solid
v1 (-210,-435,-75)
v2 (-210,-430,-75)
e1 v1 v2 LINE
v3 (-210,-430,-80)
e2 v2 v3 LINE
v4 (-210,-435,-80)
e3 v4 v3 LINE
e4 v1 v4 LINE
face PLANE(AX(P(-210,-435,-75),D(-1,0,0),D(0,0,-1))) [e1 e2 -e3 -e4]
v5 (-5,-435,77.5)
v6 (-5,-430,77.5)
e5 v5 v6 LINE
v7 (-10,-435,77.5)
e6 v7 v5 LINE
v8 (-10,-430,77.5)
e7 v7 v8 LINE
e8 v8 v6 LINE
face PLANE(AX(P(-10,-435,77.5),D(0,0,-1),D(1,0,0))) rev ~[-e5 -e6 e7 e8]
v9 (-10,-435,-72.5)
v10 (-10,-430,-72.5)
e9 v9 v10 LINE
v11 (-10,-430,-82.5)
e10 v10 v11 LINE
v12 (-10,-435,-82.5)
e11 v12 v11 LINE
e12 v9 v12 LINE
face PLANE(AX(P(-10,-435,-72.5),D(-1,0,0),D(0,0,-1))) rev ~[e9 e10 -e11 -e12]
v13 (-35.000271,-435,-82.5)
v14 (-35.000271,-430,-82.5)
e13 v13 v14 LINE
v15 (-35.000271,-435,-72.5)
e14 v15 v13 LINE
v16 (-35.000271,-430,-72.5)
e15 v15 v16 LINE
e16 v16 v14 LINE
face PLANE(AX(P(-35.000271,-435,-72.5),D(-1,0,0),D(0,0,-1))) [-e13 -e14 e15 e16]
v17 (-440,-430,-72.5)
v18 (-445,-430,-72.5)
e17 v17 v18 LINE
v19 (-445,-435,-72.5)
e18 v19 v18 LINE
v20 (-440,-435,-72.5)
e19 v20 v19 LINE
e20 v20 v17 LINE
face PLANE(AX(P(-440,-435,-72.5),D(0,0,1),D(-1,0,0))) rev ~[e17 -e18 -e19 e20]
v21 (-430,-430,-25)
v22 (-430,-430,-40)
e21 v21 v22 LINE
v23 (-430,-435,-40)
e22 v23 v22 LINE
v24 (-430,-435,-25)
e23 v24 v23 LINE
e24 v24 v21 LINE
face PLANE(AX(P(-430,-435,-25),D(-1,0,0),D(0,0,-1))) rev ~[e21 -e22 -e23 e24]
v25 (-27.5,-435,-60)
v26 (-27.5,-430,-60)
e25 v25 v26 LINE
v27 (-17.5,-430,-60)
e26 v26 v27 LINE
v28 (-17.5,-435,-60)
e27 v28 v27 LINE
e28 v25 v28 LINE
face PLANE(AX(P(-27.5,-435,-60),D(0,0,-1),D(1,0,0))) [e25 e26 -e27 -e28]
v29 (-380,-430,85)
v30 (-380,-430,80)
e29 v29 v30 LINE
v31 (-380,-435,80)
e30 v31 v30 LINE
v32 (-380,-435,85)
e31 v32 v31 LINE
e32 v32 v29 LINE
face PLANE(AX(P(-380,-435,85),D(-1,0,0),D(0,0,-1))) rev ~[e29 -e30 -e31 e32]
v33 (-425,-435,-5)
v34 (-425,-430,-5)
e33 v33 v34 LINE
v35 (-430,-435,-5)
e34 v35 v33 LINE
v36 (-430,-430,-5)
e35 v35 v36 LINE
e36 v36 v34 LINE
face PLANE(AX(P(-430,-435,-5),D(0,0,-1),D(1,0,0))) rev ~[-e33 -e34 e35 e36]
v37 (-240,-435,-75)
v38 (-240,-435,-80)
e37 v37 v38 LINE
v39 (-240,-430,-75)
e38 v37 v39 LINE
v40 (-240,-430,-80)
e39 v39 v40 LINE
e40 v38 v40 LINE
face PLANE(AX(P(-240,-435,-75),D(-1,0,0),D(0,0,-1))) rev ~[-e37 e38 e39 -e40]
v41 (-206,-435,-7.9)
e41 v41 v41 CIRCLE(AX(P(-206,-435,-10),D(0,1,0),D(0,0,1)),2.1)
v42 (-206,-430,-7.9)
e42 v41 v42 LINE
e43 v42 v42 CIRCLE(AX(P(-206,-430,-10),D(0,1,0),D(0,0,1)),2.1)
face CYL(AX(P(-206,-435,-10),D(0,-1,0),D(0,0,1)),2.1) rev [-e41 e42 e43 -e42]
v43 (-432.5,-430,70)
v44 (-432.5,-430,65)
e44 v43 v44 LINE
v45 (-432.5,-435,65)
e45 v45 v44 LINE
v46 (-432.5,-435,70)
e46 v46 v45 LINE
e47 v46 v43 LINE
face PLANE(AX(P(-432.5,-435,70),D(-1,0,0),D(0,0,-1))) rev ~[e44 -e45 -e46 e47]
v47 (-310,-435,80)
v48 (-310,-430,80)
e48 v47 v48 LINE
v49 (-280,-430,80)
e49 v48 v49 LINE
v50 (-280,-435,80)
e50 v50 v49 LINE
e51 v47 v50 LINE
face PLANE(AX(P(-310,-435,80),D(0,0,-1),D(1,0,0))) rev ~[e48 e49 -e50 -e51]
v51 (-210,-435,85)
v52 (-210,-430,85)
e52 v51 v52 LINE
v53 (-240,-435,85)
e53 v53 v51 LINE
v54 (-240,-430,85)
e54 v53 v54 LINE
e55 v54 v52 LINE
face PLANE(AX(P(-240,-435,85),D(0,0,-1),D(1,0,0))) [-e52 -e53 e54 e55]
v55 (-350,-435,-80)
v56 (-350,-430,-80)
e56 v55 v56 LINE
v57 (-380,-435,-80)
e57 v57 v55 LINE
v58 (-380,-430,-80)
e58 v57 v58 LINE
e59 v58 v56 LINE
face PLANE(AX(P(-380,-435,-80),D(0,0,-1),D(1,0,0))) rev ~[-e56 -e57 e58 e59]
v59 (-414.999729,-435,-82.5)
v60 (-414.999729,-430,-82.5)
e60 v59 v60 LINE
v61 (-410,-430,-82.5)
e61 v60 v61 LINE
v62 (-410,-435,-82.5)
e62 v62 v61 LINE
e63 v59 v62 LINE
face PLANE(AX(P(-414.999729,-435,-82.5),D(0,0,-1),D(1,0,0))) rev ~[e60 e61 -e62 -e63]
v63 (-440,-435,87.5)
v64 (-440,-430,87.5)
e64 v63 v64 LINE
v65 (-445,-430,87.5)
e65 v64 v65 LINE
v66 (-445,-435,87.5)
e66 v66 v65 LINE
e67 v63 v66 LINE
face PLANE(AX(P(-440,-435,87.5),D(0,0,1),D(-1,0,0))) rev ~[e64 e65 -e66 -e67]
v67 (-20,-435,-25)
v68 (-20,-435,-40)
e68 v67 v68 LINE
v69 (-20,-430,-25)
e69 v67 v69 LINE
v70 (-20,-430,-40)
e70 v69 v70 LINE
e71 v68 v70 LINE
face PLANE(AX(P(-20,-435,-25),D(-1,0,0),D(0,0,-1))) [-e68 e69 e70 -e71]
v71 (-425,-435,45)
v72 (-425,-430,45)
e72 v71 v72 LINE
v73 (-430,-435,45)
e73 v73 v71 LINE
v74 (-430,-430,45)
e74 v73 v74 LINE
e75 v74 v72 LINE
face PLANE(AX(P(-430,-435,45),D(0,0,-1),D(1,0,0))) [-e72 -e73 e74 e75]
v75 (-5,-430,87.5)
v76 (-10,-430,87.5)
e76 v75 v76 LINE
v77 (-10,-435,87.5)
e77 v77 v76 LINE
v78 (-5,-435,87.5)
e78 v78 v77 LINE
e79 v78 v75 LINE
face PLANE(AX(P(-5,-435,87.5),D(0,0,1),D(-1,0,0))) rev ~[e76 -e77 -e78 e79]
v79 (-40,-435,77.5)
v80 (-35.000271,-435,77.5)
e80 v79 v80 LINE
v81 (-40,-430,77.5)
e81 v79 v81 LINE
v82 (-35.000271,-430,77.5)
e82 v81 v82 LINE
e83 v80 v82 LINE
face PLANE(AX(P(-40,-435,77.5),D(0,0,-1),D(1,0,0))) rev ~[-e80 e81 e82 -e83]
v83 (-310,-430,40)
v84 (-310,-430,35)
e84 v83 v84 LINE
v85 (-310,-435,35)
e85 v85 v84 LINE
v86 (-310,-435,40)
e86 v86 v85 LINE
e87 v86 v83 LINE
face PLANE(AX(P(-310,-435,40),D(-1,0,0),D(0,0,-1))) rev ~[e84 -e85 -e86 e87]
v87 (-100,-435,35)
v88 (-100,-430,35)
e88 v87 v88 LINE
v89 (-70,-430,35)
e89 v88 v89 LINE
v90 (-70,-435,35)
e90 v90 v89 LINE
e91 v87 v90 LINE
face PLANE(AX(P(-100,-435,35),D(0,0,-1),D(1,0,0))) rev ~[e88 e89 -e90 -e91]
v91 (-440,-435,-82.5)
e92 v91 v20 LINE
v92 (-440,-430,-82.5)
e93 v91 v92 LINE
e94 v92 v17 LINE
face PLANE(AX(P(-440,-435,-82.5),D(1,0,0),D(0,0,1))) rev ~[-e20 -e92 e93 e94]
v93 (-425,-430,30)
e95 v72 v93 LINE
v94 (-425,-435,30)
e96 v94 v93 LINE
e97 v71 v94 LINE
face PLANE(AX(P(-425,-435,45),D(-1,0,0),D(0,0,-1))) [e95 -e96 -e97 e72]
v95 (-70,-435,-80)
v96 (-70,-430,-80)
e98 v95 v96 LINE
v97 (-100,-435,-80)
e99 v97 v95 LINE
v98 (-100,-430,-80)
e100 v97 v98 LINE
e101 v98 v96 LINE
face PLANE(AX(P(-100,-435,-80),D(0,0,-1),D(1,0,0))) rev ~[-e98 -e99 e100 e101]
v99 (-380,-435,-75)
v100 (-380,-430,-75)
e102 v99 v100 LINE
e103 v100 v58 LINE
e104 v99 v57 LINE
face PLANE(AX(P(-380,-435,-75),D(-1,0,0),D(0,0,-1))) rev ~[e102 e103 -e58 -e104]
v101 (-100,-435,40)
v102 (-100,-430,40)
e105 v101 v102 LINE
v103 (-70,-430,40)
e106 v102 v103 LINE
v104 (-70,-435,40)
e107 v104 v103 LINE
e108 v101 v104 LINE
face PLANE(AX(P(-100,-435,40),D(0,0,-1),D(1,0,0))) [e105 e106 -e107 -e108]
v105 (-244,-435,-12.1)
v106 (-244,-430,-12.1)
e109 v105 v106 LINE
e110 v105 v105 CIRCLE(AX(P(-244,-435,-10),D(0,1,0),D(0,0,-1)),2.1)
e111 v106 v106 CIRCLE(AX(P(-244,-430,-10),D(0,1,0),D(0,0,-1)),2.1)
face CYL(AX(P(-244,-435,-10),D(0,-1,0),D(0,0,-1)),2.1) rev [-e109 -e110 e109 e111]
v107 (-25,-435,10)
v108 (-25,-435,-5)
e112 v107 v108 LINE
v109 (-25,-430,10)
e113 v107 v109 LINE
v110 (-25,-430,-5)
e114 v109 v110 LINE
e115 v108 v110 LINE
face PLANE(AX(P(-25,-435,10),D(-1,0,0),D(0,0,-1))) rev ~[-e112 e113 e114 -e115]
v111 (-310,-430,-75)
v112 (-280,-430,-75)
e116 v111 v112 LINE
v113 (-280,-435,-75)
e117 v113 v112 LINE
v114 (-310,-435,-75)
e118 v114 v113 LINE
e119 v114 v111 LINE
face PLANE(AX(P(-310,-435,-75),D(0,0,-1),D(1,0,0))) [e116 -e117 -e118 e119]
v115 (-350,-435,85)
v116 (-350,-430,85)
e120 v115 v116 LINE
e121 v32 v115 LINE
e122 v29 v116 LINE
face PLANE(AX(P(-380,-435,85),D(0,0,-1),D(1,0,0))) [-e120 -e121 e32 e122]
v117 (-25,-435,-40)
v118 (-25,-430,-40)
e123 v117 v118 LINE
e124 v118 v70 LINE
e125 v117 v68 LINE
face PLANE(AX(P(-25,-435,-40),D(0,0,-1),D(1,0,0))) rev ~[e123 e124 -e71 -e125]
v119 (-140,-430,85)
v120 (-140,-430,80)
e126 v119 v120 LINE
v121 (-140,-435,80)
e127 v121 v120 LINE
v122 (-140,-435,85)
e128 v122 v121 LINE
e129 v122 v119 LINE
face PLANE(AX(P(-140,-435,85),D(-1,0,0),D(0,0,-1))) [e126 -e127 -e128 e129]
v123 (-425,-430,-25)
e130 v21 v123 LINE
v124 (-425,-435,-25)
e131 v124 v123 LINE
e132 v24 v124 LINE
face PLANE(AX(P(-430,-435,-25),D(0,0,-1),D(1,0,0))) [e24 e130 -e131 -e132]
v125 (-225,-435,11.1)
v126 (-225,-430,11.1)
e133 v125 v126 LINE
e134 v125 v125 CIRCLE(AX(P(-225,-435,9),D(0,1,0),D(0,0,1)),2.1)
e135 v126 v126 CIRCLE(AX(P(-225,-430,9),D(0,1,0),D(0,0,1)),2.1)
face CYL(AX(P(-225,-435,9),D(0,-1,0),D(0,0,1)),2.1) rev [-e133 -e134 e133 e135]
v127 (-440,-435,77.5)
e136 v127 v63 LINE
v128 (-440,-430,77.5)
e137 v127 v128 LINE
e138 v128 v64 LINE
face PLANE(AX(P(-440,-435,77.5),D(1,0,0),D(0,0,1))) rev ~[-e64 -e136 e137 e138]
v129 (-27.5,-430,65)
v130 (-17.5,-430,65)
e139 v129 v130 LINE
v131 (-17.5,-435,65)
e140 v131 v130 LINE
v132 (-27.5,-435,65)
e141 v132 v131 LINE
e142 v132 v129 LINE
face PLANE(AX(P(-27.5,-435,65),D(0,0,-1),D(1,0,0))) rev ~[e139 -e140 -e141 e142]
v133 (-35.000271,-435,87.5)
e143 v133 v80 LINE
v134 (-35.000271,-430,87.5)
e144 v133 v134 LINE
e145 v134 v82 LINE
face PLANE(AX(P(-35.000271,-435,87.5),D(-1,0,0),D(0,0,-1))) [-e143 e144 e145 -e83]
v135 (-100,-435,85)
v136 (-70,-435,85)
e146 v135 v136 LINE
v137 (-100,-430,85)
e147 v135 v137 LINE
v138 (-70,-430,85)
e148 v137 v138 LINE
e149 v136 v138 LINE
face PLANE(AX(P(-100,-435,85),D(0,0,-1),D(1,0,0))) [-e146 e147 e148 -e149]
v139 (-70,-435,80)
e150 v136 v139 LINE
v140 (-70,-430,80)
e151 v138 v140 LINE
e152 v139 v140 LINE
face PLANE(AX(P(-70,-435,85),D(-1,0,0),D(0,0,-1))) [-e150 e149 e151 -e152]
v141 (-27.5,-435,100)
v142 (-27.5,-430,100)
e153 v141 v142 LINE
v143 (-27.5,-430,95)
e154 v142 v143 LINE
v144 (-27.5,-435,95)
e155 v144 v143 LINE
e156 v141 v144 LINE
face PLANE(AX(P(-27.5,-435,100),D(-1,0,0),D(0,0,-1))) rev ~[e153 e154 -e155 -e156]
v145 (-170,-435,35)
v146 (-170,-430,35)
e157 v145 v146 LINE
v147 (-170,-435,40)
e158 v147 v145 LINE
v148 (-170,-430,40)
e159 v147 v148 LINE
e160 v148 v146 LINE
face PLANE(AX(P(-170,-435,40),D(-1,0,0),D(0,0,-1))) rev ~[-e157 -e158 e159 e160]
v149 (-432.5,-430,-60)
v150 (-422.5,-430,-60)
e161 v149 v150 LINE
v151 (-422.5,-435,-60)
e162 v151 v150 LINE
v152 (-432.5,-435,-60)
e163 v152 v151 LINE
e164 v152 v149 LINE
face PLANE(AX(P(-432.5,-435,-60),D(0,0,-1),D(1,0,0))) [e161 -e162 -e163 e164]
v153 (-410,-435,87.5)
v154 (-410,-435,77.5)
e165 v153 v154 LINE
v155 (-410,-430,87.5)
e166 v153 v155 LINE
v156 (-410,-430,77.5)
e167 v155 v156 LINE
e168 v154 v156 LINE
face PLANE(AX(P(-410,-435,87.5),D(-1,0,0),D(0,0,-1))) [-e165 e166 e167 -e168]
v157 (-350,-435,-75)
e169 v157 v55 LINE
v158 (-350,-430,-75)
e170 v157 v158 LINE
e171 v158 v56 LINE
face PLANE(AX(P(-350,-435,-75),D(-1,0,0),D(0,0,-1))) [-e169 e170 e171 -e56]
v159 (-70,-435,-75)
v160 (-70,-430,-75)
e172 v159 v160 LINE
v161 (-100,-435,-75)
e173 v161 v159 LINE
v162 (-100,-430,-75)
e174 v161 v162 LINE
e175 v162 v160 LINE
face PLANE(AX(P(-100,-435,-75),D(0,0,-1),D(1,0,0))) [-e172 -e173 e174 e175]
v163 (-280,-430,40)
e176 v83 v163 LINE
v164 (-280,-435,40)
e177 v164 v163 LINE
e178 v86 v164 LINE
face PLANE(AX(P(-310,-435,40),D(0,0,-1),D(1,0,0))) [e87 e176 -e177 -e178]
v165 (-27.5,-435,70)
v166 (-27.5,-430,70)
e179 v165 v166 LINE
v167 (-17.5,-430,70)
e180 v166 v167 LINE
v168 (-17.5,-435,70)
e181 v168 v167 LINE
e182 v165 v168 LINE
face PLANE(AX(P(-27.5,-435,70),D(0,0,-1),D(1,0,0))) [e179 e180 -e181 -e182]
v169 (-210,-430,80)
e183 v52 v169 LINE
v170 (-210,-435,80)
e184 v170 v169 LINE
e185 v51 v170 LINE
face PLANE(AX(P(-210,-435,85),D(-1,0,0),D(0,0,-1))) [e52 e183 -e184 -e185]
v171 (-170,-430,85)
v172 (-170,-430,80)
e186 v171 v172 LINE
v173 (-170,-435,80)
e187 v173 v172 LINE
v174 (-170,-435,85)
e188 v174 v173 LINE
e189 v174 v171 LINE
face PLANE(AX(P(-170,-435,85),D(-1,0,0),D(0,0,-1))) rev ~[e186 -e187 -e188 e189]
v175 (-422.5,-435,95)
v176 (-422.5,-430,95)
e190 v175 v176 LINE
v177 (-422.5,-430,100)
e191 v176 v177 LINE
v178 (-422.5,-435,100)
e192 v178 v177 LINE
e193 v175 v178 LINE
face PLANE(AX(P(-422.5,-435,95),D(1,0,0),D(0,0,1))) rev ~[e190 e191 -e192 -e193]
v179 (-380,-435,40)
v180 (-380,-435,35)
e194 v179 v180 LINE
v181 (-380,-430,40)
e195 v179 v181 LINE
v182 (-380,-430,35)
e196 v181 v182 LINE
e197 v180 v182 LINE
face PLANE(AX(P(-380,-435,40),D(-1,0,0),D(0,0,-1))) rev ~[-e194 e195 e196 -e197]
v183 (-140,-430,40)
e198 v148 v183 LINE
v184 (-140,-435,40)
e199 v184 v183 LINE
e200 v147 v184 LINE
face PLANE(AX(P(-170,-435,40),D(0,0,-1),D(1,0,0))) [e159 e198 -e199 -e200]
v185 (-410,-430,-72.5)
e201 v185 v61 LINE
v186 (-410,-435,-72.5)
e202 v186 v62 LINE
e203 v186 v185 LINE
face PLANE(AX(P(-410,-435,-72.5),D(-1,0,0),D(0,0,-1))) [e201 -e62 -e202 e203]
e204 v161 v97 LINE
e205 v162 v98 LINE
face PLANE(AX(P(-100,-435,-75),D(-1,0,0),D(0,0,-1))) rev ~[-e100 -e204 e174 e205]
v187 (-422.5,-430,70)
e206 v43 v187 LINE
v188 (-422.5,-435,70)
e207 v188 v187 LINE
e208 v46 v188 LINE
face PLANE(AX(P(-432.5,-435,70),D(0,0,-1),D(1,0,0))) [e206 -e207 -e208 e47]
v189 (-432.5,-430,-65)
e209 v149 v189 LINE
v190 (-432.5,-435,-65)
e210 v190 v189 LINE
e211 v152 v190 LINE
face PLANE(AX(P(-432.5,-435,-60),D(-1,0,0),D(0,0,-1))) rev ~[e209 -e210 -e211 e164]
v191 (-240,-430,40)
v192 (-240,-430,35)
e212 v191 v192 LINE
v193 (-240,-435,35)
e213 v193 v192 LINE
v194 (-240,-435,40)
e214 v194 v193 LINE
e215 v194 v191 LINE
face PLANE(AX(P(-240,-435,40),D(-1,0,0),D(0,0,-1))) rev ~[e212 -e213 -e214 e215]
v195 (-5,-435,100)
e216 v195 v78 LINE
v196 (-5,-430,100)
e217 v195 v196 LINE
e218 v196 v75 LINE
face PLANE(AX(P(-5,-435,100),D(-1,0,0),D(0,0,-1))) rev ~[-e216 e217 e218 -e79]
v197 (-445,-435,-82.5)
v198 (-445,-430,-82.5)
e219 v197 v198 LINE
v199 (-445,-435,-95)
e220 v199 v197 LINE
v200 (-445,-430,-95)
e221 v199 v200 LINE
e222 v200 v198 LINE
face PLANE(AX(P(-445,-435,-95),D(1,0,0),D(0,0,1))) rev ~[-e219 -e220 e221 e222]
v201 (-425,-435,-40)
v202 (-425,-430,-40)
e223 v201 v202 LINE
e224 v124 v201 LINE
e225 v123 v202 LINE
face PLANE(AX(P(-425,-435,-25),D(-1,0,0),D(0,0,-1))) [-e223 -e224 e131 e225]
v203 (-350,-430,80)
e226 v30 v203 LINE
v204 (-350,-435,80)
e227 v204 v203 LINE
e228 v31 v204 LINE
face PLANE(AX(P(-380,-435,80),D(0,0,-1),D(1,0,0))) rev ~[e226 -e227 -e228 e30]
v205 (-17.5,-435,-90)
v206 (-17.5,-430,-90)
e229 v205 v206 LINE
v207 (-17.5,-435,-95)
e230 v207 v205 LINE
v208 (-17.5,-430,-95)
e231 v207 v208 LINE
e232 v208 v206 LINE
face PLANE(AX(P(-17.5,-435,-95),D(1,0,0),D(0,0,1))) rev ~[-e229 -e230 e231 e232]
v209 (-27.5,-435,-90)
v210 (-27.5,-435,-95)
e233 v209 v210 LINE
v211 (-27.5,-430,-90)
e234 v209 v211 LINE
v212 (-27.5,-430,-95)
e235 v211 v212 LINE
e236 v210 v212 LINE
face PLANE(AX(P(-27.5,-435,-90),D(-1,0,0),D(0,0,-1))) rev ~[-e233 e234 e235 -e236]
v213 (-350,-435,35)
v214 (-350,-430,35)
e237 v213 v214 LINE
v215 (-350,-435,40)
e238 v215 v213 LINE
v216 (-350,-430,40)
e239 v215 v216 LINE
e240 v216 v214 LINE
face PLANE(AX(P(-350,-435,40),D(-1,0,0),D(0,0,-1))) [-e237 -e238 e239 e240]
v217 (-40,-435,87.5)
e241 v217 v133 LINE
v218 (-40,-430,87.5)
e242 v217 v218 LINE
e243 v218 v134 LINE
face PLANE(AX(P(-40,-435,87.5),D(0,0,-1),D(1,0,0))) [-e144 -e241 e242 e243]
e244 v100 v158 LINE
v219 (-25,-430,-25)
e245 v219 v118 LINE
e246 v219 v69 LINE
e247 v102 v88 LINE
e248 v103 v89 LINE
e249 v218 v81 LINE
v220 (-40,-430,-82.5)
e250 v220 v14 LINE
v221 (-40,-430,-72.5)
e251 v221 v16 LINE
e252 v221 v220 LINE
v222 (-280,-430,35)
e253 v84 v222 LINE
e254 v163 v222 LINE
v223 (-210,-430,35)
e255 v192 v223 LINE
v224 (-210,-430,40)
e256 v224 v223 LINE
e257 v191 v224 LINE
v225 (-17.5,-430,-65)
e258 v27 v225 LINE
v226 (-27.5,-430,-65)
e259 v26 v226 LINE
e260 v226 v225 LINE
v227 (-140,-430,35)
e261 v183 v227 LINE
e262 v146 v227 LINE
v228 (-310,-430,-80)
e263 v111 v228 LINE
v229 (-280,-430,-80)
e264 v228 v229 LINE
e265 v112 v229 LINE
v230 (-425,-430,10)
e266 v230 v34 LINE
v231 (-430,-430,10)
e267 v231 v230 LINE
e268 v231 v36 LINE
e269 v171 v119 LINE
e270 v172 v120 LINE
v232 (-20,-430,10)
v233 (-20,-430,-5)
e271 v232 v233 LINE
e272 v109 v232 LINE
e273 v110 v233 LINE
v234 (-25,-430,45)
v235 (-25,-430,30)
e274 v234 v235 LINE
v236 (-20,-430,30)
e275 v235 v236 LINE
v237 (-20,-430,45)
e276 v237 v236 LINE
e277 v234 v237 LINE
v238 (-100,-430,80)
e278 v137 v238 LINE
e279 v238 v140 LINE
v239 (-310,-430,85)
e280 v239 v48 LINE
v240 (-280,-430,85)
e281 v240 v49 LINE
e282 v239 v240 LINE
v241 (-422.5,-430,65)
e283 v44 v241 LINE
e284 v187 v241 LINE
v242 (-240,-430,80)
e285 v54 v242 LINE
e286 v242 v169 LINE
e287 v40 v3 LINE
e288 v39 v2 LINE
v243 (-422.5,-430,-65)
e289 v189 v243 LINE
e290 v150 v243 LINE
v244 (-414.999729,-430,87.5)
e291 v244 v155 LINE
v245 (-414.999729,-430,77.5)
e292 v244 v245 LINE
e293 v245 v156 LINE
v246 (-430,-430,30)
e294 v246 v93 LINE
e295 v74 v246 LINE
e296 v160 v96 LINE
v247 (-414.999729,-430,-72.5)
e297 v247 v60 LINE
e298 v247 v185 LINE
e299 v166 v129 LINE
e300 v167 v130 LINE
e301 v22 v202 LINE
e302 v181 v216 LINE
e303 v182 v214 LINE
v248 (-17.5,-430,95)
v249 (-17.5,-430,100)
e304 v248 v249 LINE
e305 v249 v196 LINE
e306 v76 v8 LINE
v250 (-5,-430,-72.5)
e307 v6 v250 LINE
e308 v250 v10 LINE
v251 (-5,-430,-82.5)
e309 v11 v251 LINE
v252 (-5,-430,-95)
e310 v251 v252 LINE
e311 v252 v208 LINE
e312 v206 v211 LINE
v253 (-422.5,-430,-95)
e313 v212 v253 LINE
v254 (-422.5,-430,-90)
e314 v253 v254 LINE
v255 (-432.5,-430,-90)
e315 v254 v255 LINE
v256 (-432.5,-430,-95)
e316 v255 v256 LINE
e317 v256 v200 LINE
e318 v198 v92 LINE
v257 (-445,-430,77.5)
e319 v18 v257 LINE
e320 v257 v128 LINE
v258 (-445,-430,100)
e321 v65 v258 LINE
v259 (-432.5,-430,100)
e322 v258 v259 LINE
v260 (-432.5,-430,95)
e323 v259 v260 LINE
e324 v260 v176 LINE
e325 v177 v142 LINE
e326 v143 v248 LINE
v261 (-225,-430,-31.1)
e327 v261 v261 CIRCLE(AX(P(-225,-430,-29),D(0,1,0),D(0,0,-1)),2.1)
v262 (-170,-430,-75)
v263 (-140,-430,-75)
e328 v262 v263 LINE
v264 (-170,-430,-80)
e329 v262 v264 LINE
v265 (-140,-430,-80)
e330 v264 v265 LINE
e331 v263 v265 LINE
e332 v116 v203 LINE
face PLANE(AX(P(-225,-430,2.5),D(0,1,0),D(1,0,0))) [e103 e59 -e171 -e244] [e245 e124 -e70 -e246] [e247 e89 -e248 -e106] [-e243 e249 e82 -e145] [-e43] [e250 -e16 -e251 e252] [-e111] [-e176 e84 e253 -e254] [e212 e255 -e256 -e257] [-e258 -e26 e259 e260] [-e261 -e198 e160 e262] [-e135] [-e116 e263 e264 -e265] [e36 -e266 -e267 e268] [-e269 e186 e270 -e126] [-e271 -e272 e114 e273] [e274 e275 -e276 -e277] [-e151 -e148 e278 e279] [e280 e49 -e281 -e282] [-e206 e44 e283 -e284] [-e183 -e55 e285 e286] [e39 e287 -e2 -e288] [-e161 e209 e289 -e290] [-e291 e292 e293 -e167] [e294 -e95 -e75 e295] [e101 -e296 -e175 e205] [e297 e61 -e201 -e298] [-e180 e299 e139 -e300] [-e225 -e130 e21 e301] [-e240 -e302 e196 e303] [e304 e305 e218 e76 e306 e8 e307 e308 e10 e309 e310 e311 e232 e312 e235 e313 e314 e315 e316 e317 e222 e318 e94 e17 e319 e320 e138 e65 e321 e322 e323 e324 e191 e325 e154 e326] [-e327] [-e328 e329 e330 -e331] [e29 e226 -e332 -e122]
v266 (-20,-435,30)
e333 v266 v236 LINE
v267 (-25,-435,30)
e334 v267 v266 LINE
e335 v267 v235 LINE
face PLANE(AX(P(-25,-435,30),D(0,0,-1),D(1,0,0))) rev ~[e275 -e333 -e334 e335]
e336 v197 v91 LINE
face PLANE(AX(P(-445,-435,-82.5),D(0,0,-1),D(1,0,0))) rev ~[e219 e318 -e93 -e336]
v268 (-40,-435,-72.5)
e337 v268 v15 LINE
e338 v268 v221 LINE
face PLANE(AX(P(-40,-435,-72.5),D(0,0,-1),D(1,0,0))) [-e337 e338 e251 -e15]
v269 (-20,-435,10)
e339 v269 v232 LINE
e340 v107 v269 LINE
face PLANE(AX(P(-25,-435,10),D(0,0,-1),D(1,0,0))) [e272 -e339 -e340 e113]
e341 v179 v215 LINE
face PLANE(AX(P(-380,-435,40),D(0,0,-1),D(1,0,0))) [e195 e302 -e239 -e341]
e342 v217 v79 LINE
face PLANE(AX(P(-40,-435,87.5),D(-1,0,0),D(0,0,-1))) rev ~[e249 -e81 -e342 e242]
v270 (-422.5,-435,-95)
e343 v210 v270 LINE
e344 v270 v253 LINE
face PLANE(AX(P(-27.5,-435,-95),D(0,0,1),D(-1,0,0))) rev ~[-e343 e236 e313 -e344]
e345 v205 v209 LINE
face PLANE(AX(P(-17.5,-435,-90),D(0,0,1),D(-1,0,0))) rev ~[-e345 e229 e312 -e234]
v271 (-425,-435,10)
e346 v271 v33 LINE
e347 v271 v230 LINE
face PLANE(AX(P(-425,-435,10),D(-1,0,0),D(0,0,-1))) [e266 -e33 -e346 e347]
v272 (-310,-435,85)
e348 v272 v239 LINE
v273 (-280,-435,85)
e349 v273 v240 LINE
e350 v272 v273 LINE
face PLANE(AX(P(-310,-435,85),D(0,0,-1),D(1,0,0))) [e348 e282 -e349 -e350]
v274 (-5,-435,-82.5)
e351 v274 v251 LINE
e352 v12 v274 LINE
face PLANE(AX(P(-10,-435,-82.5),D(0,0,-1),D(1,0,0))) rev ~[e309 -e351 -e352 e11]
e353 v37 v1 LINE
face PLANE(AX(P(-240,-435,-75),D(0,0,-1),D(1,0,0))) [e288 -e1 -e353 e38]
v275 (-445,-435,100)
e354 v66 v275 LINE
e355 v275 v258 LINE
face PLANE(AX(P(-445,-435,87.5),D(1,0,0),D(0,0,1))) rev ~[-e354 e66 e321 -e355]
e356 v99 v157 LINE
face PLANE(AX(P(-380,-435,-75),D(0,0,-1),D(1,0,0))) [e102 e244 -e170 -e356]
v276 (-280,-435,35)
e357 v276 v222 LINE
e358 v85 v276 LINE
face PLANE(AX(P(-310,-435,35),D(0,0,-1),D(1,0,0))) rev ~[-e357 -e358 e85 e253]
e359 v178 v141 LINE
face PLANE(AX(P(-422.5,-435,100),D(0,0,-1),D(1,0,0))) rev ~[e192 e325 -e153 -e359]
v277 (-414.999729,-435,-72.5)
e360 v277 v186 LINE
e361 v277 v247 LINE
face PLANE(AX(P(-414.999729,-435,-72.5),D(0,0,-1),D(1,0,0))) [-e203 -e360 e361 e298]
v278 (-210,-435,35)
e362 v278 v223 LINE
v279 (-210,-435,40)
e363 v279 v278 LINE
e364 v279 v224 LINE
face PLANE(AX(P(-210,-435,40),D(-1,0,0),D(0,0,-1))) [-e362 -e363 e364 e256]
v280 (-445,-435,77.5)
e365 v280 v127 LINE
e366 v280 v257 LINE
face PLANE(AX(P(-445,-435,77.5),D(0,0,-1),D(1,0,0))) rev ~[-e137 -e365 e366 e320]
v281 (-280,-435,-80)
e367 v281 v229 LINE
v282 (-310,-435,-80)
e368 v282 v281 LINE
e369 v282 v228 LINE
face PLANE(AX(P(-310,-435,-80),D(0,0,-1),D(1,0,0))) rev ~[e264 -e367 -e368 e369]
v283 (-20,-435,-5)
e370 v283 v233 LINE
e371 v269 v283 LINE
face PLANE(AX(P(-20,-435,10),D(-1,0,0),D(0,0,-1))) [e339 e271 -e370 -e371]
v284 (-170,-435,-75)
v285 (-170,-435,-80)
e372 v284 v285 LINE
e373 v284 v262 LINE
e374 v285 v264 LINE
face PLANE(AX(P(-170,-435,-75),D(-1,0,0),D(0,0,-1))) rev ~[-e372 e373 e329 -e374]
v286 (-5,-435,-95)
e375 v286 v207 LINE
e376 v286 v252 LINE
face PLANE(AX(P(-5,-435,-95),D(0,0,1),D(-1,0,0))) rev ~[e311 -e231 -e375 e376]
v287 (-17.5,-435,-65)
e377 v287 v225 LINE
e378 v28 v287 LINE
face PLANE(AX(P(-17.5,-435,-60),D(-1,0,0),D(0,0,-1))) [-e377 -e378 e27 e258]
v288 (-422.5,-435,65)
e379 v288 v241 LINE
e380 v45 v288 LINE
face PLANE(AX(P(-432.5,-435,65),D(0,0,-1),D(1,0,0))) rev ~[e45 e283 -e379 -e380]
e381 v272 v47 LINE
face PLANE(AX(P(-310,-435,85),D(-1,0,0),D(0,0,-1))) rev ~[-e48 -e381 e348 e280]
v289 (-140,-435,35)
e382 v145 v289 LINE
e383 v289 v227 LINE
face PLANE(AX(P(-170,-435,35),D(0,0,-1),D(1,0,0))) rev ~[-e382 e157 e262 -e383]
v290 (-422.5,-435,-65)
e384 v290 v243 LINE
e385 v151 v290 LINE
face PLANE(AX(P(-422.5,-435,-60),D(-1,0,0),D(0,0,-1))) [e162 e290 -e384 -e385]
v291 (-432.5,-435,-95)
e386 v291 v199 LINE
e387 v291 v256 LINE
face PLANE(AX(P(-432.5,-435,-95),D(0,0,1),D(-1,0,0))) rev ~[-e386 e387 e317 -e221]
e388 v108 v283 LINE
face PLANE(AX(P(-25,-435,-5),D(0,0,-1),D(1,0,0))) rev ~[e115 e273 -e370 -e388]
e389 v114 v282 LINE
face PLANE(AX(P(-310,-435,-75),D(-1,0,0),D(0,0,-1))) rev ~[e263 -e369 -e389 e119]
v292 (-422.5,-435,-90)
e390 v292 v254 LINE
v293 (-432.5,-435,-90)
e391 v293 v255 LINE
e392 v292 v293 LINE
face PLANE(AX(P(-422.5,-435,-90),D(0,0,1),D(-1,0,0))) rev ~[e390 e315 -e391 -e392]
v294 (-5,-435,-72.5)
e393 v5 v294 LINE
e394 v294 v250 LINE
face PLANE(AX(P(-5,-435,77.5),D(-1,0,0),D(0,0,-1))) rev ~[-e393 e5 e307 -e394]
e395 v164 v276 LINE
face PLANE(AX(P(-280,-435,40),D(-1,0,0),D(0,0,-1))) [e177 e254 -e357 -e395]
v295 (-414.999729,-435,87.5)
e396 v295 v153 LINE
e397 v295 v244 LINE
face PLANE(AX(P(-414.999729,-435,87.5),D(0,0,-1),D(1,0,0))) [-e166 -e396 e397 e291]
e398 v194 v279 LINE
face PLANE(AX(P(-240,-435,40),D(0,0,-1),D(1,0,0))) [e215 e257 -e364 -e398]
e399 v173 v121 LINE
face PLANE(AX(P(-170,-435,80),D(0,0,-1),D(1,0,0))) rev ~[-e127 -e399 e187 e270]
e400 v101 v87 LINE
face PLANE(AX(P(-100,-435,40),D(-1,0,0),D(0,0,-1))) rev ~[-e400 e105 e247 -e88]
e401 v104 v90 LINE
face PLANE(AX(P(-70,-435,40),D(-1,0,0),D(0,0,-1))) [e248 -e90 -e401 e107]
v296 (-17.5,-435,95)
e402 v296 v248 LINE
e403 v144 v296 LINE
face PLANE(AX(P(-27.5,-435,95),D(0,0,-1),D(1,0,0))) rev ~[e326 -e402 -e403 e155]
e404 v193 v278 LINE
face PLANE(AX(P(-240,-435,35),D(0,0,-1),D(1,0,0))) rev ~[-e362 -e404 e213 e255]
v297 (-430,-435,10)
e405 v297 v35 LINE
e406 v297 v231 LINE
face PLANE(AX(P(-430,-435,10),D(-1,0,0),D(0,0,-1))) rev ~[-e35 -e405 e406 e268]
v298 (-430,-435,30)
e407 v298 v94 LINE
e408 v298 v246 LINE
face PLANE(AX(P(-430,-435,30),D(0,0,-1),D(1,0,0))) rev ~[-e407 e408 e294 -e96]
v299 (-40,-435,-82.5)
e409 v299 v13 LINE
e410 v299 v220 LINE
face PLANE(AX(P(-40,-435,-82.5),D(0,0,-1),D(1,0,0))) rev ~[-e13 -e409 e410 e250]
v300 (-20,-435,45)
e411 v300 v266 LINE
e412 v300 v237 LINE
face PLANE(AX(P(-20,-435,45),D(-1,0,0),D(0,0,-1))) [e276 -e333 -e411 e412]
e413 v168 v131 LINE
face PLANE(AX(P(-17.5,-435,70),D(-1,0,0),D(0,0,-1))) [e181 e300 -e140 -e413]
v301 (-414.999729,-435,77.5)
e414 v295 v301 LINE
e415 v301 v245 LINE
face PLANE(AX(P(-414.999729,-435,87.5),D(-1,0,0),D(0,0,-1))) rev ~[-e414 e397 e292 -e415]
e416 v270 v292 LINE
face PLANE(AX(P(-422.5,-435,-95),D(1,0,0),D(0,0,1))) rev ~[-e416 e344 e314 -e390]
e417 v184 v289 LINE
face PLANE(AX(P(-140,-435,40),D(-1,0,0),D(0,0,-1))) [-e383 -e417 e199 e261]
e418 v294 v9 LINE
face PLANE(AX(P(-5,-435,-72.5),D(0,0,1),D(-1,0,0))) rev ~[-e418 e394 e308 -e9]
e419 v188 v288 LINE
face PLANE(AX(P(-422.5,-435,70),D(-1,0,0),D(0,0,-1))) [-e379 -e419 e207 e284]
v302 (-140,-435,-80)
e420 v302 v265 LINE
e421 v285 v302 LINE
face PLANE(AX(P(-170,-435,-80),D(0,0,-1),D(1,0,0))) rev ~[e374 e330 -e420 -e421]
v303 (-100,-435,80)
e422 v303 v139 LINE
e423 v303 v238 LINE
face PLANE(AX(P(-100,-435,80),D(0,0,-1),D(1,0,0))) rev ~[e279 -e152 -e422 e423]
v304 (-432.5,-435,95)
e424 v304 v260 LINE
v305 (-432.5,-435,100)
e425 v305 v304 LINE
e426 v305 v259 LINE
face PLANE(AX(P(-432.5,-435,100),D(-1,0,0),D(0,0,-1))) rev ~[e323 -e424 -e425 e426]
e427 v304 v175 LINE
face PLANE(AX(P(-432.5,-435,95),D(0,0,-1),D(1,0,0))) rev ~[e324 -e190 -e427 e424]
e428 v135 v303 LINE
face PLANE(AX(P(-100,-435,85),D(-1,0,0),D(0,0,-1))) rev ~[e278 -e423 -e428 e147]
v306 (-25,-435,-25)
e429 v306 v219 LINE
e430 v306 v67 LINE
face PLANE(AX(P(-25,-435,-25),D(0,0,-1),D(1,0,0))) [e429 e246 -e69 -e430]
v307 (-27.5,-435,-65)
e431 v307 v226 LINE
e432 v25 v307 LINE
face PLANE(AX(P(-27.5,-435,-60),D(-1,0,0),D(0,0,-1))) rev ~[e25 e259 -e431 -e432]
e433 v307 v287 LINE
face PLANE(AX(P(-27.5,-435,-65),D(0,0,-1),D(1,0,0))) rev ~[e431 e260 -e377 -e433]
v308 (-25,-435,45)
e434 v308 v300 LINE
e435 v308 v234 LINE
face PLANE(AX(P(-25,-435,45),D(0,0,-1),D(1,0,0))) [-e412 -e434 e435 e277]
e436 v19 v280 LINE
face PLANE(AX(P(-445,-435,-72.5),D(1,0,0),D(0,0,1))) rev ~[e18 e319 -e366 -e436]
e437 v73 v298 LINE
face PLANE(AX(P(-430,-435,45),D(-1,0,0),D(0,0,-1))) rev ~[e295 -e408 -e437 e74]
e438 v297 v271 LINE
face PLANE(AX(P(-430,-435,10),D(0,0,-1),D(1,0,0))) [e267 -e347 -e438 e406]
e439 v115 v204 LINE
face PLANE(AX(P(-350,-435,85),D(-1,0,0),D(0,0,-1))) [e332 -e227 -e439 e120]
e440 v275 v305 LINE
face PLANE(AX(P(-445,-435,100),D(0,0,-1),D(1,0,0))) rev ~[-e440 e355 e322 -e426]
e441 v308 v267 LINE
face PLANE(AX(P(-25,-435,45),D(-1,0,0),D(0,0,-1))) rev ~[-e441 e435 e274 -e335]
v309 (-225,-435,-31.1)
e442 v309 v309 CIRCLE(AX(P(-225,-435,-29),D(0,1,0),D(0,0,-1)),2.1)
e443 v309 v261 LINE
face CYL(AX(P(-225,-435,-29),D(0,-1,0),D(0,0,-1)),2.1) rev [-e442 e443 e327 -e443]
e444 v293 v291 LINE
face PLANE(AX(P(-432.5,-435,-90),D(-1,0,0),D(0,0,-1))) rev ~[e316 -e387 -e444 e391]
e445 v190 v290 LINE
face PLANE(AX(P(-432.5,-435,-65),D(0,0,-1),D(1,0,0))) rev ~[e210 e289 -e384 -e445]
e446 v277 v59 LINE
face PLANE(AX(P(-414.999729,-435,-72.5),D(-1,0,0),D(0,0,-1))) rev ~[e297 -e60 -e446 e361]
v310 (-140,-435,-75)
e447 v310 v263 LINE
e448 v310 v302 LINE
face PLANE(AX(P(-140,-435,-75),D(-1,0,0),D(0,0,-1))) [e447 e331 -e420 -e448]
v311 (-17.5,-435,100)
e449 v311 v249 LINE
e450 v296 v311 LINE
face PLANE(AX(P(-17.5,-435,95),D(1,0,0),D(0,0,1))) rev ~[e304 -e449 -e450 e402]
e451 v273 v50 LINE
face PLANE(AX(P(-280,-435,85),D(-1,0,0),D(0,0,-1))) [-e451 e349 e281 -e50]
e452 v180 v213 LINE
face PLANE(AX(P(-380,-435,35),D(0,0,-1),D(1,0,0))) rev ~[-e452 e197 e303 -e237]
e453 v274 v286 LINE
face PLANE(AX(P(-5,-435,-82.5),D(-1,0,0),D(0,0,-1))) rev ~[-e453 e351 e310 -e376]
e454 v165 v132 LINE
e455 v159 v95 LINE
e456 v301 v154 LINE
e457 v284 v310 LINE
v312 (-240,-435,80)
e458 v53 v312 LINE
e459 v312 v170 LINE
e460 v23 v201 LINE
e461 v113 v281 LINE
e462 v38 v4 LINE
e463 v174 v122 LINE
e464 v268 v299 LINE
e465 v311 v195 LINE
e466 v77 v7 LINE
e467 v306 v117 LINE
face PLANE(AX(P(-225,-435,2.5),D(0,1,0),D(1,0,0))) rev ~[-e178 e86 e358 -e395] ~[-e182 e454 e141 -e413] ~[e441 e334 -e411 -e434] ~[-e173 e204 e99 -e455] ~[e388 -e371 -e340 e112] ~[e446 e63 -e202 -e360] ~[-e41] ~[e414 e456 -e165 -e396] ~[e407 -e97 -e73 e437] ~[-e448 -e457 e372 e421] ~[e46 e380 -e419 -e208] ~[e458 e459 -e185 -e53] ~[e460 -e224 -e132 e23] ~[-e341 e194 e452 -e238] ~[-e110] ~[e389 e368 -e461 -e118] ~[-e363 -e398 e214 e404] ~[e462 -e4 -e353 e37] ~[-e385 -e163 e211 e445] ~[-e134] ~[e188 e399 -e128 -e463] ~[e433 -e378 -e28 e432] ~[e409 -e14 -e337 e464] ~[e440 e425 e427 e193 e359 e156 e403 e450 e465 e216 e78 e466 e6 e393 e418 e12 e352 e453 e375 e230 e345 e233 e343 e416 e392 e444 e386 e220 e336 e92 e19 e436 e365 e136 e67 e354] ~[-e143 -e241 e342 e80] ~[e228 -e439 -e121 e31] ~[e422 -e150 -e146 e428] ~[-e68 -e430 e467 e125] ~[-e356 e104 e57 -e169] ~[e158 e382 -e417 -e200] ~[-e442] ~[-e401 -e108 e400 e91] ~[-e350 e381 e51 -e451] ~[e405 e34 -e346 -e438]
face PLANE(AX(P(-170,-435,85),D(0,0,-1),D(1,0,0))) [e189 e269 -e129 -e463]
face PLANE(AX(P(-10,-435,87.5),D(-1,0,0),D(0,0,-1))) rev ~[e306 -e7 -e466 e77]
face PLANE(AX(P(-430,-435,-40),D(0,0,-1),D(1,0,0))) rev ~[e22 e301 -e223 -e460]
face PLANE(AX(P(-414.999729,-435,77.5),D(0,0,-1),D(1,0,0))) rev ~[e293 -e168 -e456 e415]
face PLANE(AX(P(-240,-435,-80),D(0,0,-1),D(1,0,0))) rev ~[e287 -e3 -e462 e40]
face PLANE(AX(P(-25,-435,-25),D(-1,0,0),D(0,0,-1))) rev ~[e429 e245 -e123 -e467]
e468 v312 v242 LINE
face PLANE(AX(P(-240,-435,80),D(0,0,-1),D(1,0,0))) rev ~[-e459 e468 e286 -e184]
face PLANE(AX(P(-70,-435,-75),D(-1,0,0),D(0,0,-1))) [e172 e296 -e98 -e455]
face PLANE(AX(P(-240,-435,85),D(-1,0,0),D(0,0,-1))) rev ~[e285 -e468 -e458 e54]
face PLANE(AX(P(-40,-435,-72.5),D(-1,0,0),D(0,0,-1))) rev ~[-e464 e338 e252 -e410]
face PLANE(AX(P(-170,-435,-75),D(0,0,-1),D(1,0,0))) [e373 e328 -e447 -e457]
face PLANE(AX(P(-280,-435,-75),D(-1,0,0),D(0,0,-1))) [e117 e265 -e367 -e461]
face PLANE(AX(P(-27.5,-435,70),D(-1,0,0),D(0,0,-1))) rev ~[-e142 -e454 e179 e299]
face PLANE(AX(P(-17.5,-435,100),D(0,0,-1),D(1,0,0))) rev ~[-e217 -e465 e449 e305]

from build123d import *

# Parameters (mm, degrees)
SKETCH2_R           = 2.1
SKETCH2_W           = 30
SKETCH2_H           = 5
SKETCH2_W_2         = 10
SKETCH2_W_3         = 4.999728605
SKETCH2_H_2         = 10
SKETCH2_W_4         = 5
SKETCH2_H_3         = 15
BOSS_EXTRUDE1_DEPTH = 5


with BuildPart() as part:
    # Sketch2 → Boss-Extrude1 (new body)
    with BuildSketch(Plane(origin=(0, -435, 0), x_dir=(1, 0, 0), z_dir=(0, 1, 0))):
        Polygon((-17.5, -95), (-17.5, -100), (-5, -100), (-5, -87.5), (-10, -87.5), (-10, -77.5), (-5, -77.5), (-5, 72.5), (-10, 72.5), (-10, 82.5), (-5, 82.5), (-5, 95), (-17.5, 95), (-17.5, 90), (-27.5, 90), (-27.5, 95), (-422.5, 95), (-422.5, 90), (-432.5, 90), (-432.5, 95), (-445, 95), (-445, 82.5), (-440, 82.5), (-440, 72.5), (-445, 72.5), (-445, -77.5), (-440, -77.5), (-440, -87.5), (-445, -87.5), (-445, -100), (-432.5, -100), (-432.5, -95), (-422.5, -95), (-422.5, -100), (-27.5, -100), (-27.5, -95), align=None)
        with Locations(Location((-225, -9, 0), (0, 0, 270))):
            Circle(SKETCH2_R, mode=Mode.SUBTRACT)
        with Locations(Location((-225, 29, 0), (0, 0, 90))):
            Circle(SKETCH2_R, mode=Mode.SUBTRACT)
        with Locations(Location((-206, 10, 0), (0, 0, 270))):
            Circle(SKETCH2_R, mode=Mode.SUBTRACT)
        with Locations(Location((-244, 10, 0), (0, 0, 90))):
            Circle(SKETCH2_R, mode=Mode.SUBTRACT)
        with Locations((-85, -82.5)):
            Rectangle(SKETCH2_W, SKETCH2_H, mode=Mode.SUBTRACT)
        with Locations((-155, -82.5)):
            Rectangle(SKETCH2_W, SKETCH2_H, mode=Mode.SUBTRACT)
        with Locations((-22.5, 62.5)):
            Rectangle(SKETCH2_W_2, SKETCH2_H, mode=Mode.SUBTRACT)
        with Locations((-225, -82.5)):
            Rectangle(SKETCH2_W, SKETCH2_H, mode=Mode.SUBTRACT)
        with Locations((-37.500135697, 77.5)):
            Rectangle(SKETCH2_W_3, SKETCH2_H_2, mode=Mode.SUBTRACT)
        with Locations((-427.5, -37.5)):
            Rectangle(SKETCH2_W_4, SKETCH2_H_3, mode=Mode.SUBTRACT)
        with Locations((-427.5, 62.5)):
            Rectangle(SKETCH2_W_2, SKETCH2_H, mode=Mode.SUBTRACT)
        with Locations((-427.5, -2.5)):
            Rectangle(SKETCH2_W_4, SKETCH2_H_3, mode=Mode.SUBTRACT)
        with Locations((-412.499864302, 77.5)):
            Rectangle(SKETCH2_W_3, SKETCH2_H_2, mode=Mode.SUBTRACT)
        with Locations((-427.5, 32.5)):
            Rectangle(SKETCH2_W_4, SKETCH2_H_3, mode=Mode.SUBTRACT)
        with Locations((-412.499864302, -82.5)):
            Rectangle(SKETCH2_W_3, SKETCH2_H_2, mode=Mode.SUBTRACT)
        with Locations((-22.5, 32.5)):
            Rectangle(SKETCH2_W_4, SKETCH2_H_3, mode=Mode.SUBTRACT)
        with Locations((-427.5, -67.5)):
            Rectangle(SKETCH2_W_2, SKETCH2_H, mode=Mode.SUBTRACT)
        with Locations((-22.5, -2.5)):
            Rectangle(SKETCH2_W_4, SKETCH2_H_3, mode=Mode.SUBTRACT)
        with Locations((-22.5, -67.5)):
            Rectangle(SKETCH2_W_2, SKETCH2_H, mode=Mode.SUBTRACT)
        with Locations((-22.5, -37.5)):
            Rectangle(SKETCH2_W_4, SKETCH2_H_3, mode=Mode.SUBTRACT)
        with Locations((-37.500135697, -82.5)):
            Rectangle(SKETCH2_W_3, SKETCH2_H_2, mode=Mode.SUBTRACT)
        with Locations((-295, -82.5)):
            Rectangle(SKETCH2_W, SKETCH2_H, mode=Mode.SUBTRACT)
        with Locations((-365, -82.5)):
            Rectangle(SKETCH2_W, SKETCH2_H, mode=Mode.SUBTRACT)
        with Locations((-365, 77.5)):
            Rectangle(SKETCH2_W, SKETCH2_H, mode=Mode.SUBTRACT)
        with Locations((-295, 77.5)):
            Rectangle(SKETCH2_W, SKETCH2_H, mode=Mode.SUBTRACT)
        with Locations((-225, 77.5)):
            Rectangle(SKETCH2_W, SKETCH2_H, mode=Mode.SUBTRACT)
        with Locations((-155, 77.5)):
            Rectangle(SKETCH2_W, SKETCH2_H, mode=Mode.SUBTRACT)
        with Locations((-85, 77.5)):
            Rectangle(SKETCH2_W, SKETCH2_H, mode=Mode.SUBTRACT)
        with Locations((-365, -37.5)):
            Rectangle(SKETCH2_W, SKETCH2_H, mode=Mode.SUBTRACT)
        with Locations((-295, -37.5)):
            Rectangle(SKETCH2_W, SKETCH2_H, mode=Mode.SUBTRACT)
        with Locations((-225, -37.5)):
            Rectangle(SKETCH2_W, SKETCH2_H, mode=Mode.SUBTRACT)
        with Locations((-155, -37.5)):
            Rectangle(SKETCH2_W, SKETCH2_H, mode=Mode.SUBTRACT)
        with Locations((-85, -37.5)):
            Rectangle(SKETCH2_W, SKETCH2_H, mode=Mode.SUBTRACT)
    extrude(amount=BOSS_EXTRUDE1_DEPTH)


solid = part.part
